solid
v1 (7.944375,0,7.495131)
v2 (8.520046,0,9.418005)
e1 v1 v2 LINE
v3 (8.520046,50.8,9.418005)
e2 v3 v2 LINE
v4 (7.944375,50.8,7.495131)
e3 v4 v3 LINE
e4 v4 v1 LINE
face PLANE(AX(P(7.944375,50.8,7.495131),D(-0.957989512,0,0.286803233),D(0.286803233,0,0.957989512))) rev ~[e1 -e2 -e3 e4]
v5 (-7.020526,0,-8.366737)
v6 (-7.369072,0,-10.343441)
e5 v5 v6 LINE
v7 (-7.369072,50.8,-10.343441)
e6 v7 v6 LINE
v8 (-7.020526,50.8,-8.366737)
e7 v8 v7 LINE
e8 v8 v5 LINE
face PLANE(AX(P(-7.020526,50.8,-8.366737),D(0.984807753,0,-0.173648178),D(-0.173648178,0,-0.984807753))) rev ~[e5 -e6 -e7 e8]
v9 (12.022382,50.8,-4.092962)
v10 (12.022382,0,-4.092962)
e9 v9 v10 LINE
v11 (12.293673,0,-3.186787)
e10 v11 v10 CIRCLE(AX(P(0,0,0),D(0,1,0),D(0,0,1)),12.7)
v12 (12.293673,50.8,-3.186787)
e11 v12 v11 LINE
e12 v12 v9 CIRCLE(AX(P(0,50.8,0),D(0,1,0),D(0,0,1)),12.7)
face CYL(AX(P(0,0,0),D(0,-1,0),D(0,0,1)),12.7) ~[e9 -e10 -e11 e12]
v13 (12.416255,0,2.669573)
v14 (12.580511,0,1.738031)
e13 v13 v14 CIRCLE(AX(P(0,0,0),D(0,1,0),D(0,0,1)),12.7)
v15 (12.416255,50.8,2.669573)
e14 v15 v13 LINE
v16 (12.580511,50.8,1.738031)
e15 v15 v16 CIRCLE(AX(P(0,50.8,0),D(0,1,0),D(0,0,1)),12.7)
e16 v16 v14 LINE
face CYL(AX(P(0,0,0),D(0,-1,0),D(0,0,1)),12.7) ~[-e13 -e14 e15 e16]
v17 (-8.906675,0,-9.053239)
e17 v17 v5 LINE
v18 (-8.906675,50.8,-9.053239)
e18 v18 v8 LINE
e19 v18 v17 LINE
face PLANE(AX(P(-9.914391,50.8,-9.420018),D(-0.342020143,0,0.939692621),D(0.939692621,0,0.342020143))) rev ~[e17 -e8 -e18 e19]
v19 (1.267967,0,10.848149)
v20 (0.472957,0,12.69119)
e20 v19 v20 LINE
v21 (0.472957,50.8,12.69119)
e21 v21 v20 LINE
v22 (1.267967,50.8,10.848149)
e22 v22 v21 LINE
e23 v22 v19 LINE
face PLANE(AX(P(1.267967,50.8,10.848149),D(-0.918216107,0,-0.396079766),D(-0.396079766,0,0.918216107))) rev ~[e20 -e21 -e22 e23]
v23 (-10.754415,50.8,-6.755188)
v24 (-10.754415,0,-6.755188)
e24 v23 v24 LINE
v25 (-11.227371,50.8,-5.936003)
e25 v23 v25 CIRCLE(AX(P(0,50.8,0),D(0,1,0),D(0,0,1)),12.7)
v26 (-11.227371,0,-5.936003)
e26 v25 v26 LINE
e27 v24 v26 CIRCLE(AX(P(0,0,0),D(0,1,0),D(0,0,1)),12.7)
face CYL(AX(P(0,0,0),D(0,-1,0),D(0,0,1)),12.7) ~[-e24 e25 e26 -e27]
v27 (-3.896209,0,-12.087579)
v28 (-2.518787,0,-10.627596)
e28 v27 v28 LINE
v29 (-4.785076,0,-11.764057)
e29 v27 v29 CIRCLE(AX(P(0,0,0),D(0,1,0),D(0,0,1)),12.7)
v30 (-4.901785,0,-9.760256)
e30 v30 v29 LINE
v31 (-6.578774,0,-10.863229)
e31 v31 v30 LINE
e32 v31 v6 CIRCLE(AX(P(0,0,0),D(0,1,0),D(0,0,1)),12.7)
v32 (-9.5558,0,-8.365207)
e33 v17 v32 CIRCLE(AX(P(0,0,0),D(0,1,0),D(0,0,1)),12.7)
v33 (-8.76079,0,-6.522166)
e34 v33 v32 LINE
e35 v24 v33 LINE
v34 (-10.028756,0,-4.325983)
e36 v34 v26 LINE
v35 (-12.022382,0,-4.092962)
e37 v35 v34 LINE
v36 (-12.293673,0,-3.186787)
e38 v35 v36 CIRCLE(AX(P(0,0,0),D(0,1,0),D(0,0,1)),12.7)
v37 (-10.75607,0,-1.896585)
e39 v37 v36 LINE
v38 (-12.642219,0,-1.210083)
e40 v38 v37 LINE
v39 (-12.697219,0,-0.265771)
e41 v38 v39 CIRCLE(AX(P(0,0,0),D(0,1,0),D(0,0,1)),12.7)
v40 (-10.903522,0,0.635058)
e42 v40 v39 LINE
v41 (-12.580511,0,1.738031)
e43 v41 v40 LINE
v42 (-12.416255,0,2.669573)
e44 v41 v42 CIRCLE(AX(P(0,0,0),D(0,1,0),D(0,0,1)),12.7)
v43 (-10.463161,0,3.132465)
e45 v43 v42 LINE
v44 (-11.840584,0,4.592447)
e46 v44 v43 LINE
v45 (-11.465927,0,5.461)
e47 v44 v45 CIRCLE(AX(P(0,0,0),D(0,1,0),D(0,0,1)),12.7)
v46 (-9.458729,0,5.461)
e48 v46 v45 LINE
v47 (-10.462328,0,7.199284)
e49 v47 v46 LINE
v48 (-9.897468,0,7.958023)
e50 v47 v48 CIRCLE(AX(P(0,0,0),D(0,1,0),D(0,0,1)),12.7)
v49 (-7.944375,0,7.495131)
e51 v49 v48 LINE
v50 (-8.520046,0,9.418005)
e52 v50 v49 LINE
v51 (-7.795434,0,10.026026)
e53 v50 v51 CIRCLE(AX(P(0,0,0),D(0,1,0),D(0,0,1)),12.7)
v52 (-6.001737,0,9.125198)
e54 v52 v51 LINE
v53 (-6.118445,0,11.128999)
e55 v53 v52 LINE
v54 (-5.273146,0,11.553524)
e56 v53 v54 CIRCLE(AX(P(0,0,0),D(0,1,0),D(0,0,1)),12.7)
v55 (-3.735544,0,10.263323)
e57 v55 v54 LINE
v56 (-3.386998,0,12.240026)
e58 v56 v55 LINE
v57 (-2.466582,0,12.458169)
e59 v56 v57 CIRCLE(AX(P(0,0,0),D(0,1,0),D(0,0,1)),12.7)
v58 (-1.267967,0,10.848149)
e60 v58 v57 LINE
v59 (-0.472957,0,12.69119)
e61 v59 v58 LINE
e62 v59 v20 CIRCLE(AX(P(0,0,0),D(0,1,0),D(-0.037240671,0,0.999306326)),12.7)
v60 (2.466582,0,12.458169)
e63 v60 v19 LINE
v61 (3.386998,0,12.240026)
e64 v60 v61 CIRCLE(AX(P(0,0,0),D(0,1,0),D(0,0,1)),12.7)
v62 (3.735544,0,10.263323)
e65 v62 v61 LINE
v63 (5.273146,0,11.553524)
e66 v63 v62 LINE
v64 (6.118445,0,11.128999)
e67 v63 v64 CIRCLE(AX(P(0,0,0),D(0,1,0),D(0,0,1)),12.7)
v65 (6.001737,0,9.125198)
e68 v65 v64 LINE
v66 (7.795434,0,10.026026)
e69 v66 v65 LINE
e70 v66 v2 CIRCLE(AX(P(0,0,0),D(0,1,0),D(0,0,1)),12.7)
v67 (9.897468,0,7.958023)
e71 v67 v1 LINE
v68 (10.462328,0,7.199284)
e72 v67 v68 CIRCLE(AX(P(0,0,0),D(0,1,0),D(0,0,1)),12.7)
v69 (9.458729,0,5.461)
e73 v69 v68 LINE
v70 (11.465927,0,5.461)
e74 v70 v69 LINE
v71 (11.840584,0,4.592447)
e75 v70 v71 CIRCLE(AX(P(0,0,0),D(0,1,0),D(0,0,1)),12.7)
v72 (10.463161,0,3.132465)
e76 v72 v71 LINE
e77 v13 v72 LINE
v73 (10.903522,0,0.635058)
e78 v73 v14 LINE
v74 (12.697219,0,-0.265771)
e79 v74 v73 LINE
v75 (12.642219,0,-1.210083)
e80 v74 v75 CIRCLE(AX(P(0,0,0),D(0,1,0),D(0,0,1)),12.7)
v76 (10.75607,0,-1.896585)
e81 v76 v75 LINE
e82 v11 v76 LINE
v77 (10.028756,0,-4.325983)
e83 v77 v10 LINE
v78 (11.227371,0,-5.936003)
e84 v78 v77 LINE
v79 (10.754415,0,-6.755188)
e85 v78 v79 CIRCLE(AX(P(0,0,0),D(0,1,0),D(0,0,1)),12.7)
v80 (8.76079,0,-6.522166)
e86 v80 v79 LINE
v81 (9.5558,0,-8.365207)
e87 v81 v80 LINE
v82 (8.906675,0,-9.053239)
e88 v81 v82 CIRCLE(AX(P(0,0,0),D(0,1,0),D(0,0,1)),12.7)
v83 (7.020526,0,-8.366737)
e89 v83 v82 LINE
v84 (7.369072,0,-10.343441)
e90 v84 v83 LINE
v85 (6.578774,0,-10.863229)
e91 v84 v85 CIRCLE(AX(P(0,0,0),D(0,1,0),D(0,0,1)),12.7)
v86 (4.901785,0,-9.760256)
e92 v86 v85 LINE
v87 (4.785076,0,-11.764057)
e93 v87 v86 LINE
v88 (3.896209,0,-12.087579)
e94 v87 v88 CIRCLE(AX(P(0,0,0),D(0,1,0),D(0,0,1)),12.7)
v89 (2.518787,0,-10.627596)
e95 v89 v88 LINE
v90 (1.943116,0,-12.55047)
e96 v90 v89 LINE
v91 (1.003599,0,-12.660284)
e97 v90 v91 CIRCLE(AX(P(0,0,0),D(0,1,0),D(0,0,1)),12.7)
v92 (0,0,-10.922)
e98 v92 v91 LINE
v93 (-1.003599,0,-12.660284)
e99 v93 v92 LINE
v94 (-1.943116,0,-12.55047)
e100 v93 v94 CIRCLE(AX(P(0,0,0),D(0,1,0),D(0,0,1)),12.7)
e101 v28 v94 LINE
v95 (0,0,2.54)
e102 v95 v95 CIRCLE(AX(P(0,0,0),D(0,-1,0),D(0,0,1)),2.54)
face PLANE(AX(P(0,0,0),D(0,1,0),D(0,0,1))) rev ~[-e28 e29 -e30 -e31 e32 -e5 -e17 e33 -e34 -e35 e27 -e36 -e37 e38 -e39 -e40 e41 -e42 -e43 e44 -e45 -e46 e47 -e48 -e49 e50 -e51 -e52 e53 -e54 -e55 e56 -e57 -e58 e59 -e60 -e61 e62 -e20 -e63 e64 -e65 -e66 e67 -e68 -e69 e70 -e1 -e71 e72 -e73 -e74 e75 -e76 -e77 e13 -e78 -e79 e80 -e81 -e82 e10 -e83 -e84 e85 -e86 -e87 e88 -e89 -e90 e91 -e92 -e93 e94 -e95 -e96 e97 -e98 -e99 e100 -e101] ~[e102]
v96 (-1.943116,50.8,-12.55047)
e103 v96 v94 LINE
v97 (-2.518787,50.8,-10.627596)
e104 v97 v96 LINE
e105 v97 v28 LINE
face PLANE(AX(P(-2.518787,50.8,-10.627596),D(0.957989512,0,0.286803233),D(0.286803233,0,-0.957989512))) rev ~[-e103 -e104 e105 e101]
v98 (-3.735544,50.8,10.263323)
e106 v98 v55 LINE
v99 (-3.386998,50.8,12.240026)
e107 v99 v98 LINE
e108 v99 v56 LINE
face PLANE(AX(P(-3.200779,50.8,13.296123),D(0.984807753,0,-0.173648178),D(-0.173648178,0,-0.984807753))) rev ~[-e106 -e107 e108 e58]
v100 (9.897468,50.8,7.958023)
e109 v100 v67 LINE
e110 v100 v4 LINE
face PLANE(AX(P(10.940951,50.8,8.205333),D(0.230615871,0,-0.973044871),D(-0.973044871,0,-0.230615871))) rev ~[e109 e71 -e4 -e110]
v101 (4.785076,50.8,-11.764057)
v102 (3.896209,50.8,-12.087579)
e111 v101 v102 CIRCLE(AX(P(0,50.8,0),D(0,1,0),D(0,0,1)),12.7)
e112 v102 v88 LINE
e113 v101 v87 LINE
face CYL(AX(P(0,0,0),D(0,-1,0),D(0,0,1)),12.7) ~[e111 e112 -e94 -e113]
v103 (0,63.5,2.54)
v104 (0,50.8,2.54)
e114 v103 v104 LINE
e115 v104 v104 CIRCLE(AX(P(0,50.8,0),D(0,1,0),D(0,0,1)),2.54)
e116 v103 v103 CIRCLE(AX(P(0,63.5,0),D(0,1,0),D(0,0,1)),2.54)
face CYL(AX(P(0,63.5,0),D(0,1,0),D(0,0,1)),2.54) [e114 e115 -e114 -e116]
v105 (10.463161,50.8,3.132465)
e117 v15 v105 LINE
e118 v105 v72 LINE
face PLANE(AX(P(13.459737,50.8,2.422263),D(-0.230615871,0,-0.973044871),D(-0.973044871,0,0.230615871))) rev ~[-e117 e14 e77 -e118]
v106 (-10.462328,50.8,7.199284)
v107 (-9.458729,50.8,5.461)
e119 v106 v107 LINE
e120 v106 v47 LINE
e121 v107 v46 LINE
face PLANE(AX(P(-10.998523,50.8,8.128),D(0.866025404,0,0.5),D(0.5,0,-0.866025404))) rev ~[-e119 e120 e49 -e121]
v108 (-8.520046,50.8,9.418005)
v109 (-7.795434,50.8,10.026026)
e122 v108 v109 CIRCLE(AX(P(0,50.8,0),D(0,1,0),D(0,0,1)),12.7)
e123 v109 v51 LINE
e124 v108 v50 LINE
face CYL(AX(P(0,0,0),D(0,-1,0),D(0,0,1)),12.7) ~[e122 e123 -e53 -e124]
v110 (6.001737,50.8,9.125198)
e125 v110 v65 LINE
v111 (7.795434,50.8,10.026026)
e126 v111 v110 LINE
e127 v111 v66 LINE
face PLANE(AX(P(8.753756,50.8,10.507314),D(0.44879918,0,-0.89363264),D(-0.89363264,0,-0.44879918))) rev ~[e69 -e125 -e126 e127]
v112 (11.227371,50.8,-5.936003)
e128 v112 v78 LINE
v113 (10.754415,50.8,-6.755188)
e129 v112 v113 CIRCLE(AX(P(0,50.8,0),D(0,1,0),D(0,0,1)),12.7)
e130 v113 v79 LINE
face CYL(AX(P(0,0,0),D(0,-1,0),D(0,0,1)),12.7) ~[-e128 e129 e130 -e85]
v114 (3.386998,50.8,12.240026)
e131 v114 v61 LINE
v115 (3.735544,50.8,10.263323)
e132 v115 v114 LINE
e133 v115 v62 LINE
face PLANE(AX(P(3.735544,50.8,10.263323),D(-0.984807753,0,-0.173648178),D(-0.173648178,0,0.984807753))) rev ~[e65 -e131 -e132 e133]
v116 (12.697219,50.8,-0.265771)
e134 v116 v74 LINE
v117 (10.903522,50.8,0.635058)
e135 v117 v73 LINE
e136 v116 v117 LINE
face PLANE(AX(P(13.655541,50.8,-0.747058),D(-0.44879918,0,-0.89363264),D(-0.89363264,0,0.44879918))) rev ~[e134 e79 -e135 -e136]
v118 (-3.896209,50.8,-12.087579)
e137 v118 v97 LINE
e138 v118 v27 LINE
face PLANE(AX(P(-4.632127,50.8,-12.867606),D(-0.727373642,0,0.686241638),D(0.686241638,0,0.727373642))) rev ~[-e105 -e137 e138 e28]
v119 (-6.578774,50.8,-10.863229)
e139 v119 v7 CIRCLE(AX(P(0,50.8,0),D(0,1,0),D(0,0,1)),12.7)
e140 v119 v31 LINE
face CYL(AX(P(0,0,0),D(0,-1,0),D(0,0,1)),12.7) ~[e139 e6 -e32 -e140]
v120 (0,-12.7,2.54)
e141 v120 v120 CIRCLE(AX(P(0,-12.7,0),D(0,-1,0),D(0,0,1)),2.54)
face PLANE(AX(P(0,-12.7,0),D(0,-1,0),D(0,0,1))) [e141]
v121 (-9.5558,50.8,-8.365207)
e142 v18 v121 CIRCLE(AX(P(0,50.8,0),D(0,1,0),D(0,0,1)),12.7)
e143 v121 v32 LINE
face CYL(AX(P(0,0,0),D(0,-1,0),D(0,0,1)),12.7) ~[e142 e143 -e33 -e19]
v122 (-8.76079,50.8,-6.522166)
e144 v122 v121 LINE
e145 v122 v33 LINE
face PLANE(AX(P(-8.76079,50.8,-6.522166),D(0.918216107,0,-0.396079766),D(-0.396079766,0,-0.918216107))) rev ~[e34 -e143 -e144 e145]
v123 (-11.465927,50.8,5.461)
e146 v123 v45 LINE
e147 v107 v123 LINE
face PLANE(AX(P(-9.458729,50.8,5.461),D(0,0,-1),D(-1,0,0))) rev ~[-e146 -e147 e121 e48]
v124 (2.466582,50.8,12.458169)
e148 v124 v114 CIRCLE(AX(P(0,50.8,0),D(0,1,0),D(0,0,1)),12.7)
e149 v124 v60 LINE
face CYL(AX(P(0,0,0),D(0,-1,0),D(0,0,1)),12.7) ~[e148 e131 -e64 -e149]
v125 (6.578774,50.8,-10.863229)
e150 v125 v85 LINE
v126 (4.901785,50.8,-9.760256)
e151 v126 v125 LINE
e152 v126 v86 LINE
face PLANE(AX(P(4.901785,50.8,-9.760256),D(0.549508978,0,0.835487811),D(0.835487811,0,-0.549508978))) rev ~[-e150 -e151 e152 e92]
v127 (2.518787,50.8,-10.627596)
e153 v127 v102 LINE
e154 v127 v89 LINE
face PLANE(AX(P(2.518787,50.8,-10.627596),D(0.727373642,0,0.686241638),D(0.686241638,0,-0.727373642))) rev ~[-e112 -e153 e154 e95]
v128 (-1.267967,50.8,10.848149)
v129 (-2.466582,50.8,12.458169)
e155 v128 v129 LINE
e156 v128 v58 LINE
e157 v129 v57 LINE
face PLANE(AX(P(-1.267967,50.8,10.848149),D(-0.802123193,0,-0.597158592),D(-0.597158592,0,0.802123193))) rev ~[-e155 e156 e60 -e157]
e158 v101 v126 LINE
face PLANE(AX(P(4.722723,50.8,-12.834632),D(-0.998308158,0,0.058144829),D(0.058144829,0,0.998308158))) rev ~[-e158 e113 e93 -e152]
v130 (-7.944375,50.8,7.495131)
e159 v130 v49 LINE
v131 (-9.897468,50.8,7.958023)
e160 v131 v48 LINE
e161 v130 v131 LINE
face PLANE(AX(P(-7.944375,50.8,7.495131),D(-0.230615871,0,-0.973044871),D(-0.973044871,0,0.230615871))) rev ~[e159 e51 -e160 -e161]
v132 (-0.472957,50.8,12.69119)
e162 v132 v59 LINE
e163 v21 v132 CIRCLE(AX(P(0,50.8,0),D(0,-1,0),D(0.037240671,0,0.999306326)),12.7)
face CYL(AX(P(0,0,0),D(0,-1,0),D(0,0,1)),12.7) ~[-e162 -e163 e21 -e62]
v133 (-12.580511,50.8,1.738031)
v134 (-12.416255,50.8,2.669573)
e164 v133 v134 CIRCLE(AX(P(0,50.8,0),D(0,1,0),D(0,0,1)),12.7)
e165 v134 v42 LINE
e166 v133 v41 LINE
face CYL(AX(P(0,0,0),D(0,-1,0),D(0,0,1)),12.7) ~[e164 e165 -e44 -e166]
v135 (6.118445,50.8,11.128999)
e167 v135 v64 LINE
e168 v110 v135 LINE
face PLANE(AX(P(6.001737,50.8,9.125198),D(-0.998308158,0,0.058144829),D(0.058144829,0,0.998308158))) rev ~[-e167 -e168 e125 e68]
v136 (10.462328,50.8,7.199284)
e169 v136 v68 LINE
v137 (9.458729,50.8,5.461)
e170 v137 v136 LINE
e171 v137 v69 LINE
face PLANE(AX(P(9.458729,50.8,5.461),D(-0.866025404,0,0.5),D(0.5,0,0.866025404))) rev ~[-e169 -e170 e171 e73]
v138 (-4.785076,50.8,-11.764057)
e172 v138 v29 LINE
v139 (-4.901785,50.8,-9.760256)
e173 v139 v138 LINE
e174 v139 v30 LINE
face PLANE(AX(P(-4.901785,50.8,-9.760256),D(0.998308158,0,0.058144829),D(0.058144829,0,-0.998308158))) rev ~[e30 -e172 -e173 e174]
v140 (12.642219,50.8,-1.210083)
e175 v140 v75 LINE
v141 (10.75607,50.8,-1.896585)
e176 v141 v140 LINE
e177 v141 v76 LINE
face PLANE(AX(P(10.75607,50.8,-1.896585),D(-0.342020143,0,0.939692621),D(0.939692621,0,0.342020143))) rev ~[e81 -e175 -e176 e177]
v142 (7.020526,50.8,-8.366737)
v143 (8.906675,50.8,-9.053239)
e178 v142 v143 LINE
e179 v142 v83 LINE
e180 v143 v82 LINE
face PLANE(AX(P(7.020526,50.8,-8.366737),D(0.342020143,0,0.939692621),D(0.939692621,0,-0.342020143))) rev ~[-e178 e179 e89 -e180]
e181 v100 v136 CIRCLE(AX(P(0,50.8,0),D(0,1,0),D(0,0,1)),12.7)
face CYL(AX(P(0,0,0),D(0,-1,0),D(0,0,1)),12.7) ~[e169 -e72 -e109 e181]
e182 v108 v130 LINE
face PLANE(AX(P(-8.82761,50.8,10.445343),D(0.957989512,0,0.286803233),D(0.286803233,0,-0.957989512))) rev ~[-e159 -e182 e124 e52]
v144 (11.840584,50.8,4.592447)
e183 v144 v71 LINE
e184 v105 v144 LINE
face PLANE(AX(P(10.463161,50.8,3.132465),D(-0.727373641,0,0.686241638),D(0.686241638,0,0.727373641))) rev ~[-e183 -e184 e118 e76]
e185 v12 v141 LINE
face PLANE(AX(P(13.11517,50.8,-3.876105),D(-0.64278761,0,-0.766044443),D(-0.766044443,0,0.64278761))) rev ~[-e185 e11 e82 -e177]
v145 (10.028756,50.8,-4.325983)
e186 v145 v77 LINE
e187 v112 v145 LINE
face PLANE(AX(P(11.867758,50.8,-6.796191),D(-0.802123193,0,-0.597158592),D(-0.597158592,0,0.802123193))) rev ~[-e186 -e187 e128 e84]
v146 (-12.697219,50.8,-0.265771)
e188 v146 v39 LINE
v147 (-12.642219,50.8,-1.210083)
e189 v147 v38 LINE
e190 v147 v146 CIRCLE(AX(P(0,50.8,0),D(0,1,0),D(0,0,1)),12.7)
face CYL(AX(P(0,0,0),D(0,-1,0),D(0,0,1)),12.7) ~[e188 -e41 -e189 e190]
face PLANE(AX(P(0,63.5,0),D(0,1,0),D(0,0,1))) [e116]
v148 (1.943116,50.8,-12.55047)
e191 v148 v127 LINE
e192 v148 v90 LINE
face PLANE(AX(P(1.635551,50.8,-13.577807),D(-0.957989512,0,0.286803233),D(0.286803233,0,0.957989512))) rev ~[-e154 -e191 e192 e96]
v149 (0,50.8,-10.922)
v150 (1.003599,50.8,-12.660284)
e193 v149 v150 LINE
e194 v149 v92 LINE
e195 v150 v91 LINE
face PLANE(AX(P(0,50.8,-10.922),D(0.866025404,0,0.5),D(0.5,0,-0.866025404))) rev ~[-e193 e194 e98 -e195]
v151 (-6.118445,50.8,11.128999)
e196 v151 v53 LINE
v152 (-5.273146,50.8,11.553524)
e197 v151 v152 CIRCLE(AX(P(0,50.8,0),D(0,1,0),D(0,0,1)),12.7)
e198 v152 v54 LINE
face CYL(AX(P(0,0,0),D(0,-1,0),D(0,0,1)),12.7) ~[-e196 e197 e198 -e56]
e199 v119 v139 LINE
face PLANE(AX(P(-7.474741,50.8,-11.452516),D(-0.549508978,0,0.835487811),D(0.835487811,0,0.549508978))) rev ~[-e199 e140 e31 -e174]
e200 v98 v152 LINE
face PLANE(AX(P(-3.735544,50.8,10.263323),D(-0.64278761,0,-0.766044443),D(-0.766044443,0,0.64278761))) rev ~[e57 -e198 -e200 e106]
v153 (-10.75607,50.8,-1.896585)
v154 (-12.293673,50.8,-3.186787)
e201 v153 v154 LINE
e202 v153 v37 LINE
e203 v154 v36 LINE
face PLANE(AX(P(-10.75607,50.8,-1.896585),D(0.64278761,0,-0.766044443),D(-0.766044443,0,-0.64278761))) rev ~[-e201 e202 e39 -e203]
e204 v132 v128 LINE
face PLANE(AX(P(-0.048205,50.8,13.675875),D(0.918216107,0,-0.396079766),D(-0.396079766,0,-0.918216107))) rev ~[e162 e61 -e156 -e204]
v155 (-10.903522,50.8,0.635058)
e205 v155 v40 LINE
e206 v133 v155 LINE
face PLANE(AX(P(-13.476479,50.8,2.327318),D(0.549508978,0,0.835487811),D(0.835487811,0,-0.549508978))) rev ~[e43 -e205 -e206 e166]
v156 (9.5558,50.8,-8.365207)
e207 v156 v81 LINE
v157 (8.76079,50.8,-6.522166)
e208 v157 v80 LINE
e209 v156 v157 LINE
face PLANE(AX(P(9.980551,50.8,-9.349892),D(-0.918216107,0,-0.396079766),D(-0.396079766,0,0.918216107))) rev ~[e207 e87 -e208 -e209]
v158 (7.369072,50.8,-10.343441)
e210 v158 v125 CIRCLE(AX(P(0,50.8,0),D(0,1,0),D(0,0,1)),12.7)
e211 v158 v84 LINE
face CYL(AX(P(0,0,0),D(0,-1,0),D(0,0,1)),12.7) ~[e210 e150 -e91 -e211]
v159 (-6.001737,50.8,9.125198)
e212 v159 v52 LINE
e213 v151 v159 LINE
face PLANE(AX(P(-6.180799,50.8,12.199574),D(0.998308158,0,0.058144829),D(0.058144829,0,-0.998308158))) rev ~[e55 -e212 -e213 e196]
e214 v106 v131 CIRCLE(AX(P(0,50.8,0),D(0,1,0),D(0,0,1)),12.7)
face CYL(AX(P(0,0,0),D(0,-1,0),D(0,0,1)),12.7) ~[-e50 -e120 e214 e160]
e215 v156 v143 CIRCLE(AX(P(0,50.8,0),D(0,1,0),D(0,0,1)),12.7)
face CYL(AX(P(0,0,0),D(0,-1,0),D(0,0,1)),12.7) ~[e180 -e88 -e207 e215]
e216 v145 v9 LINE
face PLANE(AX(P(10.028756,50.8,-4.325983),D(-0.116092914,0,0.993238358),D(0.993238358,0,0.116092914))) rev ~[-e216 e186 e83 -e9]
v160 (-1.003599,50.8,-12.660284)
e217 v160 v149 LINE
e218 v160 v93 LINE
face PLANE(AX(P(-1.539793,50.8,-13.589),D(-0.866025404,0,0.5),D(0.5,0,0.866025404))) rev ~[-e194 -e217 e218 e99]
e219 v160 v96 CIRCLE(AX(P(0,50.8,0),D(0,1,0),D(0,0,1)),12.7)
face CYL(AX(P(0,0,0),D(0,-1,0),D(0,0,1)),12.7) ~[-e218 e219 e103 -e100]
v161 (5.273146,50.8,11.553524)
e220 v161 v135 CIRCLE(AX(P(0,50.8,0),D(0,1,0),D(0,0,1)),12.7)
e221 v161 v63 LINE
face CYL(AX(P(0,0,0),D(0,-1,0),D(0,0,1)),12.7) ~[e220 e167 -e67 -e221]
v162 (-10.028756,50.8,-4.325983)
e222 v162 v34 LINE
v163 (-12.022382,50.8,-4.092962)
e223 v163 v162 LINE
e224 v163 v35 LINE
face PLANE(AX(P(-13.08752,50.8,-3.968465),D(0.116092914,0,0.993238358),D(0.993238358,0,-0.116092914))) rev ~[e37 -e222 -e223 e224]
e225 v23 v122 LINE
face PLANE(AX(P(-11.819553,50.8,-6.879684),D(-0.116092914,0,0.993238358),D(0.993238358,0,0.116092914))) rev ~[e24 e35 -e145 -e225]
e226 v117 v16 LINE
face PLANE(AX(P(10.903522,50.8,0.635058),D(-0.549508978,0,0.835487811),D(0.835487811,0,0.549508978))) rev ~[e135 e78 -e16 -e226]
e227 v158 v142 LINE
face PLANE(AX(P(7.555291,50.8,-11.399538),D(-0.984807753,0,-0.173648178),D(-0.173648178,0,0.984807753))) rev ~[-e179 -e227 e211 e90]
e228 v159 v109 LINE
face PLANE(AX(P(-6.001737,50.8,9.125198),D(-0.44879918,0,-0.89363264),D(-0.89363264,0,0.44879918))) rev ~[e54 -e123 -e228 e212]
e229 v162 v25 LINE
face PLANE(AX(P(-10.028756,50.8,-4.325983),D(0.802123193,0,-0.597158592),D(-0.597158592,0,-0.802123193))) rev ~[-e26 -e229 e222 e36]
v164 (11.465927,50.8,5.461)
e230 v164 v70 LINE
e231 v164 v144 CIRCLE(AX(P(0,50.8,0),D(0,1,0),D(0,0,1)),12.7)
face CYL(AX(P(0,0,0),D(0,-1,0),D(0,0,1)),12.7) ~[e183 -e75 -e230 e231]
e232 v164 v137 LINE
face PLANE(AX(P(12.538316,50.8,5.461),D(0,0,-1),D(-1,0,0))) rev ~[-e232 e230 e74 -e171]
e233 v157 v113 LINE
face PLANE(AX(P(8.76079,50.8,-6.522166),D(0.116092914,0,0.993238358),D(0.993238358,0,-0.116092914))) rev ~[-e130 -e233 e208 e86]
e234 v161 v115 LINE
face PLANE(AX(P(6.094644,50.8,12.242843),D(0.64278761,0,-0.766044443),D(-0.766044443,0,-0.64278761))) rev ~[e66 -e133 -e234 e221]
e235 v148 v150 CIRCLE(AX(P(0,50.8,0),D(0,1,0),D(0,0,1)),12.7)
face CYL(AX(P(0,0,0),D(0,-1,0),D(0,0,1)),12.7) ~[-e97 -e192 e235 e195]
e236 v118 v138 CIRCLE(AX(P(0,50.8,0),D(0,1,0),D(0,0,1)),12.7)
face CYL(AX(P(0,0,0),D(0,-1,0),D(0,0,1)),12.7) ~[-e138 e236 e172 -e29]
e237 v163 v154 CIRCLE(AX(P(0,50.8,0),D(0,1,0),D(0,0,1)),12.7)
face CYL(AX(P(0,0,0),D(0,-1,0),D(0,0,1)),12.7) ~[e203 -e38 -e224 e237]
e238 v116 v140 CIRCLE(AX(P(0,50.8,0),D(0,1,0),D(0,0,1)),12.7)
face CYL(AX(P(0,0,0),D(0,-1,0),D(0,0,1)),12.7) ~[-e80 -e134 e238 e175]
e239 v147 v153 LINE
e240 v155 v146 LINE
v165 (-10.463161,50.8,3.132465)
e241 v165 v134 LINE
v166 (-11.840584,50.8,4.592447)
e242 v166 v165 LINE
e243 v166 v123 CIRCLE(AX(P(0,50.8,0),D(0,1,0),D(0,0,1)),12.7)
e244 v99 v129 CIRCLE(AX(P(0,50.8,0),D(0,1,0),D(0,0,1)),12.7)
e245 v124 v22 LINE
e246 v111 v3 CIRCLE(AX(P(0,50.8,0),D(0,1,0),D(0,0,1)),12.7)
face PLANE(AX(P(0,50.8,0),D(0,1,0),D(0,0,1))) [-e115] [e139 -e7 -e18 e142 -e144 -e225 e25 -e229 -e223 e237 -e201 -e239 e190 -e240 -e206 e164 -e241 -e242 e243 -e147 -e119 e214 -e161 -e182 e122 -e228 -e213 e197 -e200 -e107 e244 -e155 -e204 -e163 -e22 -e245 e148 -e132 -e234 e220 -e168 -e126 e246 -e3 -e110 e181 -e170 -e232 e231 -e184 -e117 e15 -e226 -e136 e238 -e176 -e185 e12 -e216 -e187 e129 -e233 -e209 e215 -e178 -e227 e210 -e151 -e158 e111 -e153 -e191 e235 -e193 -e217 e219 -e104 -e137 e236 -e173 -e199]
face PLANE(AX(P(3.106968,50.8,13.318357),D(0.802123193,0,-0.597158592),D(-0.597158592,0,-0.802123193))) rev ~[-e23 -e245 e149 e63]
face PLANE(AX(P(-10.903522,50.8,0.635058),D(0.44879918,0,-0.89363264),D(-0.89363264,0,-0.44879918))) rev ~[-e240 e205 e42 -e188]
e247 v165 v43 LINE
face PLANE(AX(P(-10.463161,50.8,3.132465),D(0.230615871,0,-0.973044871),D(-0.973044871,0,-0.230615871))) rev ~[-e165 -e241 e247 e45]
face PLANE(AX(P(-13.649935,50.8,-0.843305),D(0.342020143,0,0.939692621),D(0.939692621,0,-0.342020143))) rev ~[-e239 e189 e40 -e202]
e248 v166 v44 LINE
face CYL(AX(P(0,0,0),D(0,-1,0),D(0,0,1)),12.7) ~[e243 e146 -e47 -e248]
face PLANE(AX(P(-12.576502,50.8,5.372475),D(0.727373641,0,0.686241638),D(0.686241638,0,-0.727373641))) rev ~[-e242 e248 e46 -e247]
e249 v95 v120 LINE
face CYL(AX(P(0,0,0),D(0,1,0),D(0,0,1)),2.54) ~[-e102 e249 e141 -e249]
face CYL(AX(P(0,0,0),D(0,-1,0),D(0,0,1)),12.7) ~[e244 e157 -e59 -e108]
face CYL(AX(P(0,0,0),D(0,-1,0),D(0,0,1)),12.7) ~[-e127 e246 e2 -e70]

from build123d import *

# Parameters (mm, degrees)
SKETCH1_R           = 12.7
BOSS_EXTRUDE2_DEPTH = 50.8
CUT_EXTRUDE1_DEPTH  = 50.8
SKETCH3_R           = 2.54
BOSS_EXTRUDE3_DEPTH = 12.7
BOSS_EXTRUDE4_START = 12.7
SKETCH4_R           = 2.54
BOSS_EXTRUDE4_DEPTH = 12.7


with BuildPart() as part:
    # Sketch1 → Boss-Extrude2 (new body)
    with BuildSketch(Plane(origin=(0, 0, 0), x_dir=(1, 0, 0), z_dir=(0, 1, 0))):
        with Locations(Location((0, 0, 0), (0, 0, 270))):
            Circle(SKETCH1_R)
    extrude(amount=BOSS_EXTRUDE2_DEPTH)

    # Sketch2 → Cut-Extrude1 (cut)
    with BuildSketch(Plane(origin=(0, 50.8, 0), x_dir=(1, 0, 0), z_dir=(0, 1, 0))):
        Polygon((2.51878654, 10.627596076), (4.632126911, 12.867606004), (1.635551224, 13.577807488), align=None)
        Polygon((0, 10.922), (1.539793168, 13.589), (-1.539793168, 13.589), align=None)
        Polygon((4.901784646, 9.760255698), (7.474741494, 11.452516038), (4.722722626, 12.834631861), align=None)
        Polygon((7.020526273, 8.366737408), (9.914390828, 9.420017968), (7.555290828, 11.399537907), align=None)
        Polygon((8.760789511, 6.522166139), (11.819552786, 6.879684291), (9.980551347, 9.349891915), align=None)
        Polygon((10.028756319, 4.325983205), (13.087519594, 3.968465053), (11.867757759, 6.796190829), align=None)
        Polygon((10.756070278, 1.896585396), (13.649934833, 0.843304837), (13.115170278, 3.876105336), align=None)
        Polygon((10.903521705, -0.635057821), (13.476478552, -2.327318162), (13.655540573, 0.747058002), align=None)
        Polygon((10.463161454, -3.132464908), (12.576501825, -5.372474835), (13.459737141, -2.422263423), align=None)
        Polygon((9.45872946, -5.461), (10.998522628, -8.128), (12.538315796, -5.461), align=None)
        Polygon((7.944374913, -7.495131169), (8.82761023, -10.445342581), (10.940950601, -8.205332653), align=None)
        Polygon((6.001737058, -9.125197876), (6.180799079, -12.199574039), (8.753755927, -10.507313699), align=None)
        Polygon((3.735544005, -10.263322804), (3.20077945, -13.296123304), (6.094644005, -12.242842744), align=None)
        Polygon((1.267966808, -10.848149343), (0.048204973, -13.675875119), (3.106968247, -13.318356967), align=None)
        Polygon((-1.267966808, -10.848149343), (-3.106968247, -13.318356967), (-0.048204973, -13.675875119), align=None)
        Polygon((-3.735544005, -10.263322804), (-6.094644005, -12.242842744), (-3.20077945, -13.296123304), align=None)
        Polygon((-6.001737058, -9.125197876), (-8.753755927, -10.507313699), (-6.180799079, -12.199574039), align=None)
        Polygon((-7.944374913, -7.495131169), (-10.940950601, -8.205332653), (-8.82761023, -10.445342581), align=None)
        Polygon((-9.45872946, -5.461), (-12.538315796, -5.461), (-10.998522628, -8.128), align=None)
        Polygon((-10.463161454, -3.132464908), (-13.459737141, -2.422263423), (-12.576501825, -5.372474835), align=None)
        Polygon((-10.903521705, -0.635057821), (-13.655540573, 0.747058002), (-13.476478552, -2.327318162), align=None)
        Polygon((-10.756070278, 1.896585396), (-13.115170278, 3.876105336), (-13.649934833, 0.843304837), align=None)
        Polygon((-10.028756319, 4.325983205), (-11.867757759, 6.796190829), (-13.087519594, 3.968465053), align=None)
        Polygon((-8.760789511, 6.522166139), (-9.980551347, 9.349891915), (-11.819552786, 6.879684291), align=None)
        Polygon((-7.020526273, 8.366737408), (-7.555290828, 11.399537907), (-9.914390828, 9.420017968), align=None)
        Polygon((-4.901784646, 9.760255698), (-4.722722626, 12.834631861), (-7.474741494, 11.452516038), align=None)
        Polygon((-2.51878654, 10.627596076), (-1.635551224, 13.577807488), (-4.632126911, 12.867606004), align=None)
    extrude(amount=-CUT_EXTRUDE1_DEPTH, mode=Mode.SUBTRACT)

    # Sketch3 → Boss-Extrude3 (add)
    with BuildSketch(Plane(origin=(0, 0, 0), x_dir=(-1, 0, 0), z_dir=(0, -1, 0))):
        with Locations(Location((0, 0, 0), (0, 0, 270))):
            Circle(SKETCH3_R)
    extrude(amount=BOSS_EXTRUDE3_DEPTH)

    # Sketch4 → Boss-Extrude4 (add)
    with BuildSketch(Plane(origin=(0, 50.8, 0), x_dir=(1, 0, 0), z_dir=(0, 1, 0)).offset(BOSS_EXTRUDE4_START)):
        with Locations(Location((0, 0, 0), (0, 0, 270))):
            Circle(SKETCH4_R)
    extrude(amount=-BOSS_EXTRUDE4_DEPTH)


solid = part.part
